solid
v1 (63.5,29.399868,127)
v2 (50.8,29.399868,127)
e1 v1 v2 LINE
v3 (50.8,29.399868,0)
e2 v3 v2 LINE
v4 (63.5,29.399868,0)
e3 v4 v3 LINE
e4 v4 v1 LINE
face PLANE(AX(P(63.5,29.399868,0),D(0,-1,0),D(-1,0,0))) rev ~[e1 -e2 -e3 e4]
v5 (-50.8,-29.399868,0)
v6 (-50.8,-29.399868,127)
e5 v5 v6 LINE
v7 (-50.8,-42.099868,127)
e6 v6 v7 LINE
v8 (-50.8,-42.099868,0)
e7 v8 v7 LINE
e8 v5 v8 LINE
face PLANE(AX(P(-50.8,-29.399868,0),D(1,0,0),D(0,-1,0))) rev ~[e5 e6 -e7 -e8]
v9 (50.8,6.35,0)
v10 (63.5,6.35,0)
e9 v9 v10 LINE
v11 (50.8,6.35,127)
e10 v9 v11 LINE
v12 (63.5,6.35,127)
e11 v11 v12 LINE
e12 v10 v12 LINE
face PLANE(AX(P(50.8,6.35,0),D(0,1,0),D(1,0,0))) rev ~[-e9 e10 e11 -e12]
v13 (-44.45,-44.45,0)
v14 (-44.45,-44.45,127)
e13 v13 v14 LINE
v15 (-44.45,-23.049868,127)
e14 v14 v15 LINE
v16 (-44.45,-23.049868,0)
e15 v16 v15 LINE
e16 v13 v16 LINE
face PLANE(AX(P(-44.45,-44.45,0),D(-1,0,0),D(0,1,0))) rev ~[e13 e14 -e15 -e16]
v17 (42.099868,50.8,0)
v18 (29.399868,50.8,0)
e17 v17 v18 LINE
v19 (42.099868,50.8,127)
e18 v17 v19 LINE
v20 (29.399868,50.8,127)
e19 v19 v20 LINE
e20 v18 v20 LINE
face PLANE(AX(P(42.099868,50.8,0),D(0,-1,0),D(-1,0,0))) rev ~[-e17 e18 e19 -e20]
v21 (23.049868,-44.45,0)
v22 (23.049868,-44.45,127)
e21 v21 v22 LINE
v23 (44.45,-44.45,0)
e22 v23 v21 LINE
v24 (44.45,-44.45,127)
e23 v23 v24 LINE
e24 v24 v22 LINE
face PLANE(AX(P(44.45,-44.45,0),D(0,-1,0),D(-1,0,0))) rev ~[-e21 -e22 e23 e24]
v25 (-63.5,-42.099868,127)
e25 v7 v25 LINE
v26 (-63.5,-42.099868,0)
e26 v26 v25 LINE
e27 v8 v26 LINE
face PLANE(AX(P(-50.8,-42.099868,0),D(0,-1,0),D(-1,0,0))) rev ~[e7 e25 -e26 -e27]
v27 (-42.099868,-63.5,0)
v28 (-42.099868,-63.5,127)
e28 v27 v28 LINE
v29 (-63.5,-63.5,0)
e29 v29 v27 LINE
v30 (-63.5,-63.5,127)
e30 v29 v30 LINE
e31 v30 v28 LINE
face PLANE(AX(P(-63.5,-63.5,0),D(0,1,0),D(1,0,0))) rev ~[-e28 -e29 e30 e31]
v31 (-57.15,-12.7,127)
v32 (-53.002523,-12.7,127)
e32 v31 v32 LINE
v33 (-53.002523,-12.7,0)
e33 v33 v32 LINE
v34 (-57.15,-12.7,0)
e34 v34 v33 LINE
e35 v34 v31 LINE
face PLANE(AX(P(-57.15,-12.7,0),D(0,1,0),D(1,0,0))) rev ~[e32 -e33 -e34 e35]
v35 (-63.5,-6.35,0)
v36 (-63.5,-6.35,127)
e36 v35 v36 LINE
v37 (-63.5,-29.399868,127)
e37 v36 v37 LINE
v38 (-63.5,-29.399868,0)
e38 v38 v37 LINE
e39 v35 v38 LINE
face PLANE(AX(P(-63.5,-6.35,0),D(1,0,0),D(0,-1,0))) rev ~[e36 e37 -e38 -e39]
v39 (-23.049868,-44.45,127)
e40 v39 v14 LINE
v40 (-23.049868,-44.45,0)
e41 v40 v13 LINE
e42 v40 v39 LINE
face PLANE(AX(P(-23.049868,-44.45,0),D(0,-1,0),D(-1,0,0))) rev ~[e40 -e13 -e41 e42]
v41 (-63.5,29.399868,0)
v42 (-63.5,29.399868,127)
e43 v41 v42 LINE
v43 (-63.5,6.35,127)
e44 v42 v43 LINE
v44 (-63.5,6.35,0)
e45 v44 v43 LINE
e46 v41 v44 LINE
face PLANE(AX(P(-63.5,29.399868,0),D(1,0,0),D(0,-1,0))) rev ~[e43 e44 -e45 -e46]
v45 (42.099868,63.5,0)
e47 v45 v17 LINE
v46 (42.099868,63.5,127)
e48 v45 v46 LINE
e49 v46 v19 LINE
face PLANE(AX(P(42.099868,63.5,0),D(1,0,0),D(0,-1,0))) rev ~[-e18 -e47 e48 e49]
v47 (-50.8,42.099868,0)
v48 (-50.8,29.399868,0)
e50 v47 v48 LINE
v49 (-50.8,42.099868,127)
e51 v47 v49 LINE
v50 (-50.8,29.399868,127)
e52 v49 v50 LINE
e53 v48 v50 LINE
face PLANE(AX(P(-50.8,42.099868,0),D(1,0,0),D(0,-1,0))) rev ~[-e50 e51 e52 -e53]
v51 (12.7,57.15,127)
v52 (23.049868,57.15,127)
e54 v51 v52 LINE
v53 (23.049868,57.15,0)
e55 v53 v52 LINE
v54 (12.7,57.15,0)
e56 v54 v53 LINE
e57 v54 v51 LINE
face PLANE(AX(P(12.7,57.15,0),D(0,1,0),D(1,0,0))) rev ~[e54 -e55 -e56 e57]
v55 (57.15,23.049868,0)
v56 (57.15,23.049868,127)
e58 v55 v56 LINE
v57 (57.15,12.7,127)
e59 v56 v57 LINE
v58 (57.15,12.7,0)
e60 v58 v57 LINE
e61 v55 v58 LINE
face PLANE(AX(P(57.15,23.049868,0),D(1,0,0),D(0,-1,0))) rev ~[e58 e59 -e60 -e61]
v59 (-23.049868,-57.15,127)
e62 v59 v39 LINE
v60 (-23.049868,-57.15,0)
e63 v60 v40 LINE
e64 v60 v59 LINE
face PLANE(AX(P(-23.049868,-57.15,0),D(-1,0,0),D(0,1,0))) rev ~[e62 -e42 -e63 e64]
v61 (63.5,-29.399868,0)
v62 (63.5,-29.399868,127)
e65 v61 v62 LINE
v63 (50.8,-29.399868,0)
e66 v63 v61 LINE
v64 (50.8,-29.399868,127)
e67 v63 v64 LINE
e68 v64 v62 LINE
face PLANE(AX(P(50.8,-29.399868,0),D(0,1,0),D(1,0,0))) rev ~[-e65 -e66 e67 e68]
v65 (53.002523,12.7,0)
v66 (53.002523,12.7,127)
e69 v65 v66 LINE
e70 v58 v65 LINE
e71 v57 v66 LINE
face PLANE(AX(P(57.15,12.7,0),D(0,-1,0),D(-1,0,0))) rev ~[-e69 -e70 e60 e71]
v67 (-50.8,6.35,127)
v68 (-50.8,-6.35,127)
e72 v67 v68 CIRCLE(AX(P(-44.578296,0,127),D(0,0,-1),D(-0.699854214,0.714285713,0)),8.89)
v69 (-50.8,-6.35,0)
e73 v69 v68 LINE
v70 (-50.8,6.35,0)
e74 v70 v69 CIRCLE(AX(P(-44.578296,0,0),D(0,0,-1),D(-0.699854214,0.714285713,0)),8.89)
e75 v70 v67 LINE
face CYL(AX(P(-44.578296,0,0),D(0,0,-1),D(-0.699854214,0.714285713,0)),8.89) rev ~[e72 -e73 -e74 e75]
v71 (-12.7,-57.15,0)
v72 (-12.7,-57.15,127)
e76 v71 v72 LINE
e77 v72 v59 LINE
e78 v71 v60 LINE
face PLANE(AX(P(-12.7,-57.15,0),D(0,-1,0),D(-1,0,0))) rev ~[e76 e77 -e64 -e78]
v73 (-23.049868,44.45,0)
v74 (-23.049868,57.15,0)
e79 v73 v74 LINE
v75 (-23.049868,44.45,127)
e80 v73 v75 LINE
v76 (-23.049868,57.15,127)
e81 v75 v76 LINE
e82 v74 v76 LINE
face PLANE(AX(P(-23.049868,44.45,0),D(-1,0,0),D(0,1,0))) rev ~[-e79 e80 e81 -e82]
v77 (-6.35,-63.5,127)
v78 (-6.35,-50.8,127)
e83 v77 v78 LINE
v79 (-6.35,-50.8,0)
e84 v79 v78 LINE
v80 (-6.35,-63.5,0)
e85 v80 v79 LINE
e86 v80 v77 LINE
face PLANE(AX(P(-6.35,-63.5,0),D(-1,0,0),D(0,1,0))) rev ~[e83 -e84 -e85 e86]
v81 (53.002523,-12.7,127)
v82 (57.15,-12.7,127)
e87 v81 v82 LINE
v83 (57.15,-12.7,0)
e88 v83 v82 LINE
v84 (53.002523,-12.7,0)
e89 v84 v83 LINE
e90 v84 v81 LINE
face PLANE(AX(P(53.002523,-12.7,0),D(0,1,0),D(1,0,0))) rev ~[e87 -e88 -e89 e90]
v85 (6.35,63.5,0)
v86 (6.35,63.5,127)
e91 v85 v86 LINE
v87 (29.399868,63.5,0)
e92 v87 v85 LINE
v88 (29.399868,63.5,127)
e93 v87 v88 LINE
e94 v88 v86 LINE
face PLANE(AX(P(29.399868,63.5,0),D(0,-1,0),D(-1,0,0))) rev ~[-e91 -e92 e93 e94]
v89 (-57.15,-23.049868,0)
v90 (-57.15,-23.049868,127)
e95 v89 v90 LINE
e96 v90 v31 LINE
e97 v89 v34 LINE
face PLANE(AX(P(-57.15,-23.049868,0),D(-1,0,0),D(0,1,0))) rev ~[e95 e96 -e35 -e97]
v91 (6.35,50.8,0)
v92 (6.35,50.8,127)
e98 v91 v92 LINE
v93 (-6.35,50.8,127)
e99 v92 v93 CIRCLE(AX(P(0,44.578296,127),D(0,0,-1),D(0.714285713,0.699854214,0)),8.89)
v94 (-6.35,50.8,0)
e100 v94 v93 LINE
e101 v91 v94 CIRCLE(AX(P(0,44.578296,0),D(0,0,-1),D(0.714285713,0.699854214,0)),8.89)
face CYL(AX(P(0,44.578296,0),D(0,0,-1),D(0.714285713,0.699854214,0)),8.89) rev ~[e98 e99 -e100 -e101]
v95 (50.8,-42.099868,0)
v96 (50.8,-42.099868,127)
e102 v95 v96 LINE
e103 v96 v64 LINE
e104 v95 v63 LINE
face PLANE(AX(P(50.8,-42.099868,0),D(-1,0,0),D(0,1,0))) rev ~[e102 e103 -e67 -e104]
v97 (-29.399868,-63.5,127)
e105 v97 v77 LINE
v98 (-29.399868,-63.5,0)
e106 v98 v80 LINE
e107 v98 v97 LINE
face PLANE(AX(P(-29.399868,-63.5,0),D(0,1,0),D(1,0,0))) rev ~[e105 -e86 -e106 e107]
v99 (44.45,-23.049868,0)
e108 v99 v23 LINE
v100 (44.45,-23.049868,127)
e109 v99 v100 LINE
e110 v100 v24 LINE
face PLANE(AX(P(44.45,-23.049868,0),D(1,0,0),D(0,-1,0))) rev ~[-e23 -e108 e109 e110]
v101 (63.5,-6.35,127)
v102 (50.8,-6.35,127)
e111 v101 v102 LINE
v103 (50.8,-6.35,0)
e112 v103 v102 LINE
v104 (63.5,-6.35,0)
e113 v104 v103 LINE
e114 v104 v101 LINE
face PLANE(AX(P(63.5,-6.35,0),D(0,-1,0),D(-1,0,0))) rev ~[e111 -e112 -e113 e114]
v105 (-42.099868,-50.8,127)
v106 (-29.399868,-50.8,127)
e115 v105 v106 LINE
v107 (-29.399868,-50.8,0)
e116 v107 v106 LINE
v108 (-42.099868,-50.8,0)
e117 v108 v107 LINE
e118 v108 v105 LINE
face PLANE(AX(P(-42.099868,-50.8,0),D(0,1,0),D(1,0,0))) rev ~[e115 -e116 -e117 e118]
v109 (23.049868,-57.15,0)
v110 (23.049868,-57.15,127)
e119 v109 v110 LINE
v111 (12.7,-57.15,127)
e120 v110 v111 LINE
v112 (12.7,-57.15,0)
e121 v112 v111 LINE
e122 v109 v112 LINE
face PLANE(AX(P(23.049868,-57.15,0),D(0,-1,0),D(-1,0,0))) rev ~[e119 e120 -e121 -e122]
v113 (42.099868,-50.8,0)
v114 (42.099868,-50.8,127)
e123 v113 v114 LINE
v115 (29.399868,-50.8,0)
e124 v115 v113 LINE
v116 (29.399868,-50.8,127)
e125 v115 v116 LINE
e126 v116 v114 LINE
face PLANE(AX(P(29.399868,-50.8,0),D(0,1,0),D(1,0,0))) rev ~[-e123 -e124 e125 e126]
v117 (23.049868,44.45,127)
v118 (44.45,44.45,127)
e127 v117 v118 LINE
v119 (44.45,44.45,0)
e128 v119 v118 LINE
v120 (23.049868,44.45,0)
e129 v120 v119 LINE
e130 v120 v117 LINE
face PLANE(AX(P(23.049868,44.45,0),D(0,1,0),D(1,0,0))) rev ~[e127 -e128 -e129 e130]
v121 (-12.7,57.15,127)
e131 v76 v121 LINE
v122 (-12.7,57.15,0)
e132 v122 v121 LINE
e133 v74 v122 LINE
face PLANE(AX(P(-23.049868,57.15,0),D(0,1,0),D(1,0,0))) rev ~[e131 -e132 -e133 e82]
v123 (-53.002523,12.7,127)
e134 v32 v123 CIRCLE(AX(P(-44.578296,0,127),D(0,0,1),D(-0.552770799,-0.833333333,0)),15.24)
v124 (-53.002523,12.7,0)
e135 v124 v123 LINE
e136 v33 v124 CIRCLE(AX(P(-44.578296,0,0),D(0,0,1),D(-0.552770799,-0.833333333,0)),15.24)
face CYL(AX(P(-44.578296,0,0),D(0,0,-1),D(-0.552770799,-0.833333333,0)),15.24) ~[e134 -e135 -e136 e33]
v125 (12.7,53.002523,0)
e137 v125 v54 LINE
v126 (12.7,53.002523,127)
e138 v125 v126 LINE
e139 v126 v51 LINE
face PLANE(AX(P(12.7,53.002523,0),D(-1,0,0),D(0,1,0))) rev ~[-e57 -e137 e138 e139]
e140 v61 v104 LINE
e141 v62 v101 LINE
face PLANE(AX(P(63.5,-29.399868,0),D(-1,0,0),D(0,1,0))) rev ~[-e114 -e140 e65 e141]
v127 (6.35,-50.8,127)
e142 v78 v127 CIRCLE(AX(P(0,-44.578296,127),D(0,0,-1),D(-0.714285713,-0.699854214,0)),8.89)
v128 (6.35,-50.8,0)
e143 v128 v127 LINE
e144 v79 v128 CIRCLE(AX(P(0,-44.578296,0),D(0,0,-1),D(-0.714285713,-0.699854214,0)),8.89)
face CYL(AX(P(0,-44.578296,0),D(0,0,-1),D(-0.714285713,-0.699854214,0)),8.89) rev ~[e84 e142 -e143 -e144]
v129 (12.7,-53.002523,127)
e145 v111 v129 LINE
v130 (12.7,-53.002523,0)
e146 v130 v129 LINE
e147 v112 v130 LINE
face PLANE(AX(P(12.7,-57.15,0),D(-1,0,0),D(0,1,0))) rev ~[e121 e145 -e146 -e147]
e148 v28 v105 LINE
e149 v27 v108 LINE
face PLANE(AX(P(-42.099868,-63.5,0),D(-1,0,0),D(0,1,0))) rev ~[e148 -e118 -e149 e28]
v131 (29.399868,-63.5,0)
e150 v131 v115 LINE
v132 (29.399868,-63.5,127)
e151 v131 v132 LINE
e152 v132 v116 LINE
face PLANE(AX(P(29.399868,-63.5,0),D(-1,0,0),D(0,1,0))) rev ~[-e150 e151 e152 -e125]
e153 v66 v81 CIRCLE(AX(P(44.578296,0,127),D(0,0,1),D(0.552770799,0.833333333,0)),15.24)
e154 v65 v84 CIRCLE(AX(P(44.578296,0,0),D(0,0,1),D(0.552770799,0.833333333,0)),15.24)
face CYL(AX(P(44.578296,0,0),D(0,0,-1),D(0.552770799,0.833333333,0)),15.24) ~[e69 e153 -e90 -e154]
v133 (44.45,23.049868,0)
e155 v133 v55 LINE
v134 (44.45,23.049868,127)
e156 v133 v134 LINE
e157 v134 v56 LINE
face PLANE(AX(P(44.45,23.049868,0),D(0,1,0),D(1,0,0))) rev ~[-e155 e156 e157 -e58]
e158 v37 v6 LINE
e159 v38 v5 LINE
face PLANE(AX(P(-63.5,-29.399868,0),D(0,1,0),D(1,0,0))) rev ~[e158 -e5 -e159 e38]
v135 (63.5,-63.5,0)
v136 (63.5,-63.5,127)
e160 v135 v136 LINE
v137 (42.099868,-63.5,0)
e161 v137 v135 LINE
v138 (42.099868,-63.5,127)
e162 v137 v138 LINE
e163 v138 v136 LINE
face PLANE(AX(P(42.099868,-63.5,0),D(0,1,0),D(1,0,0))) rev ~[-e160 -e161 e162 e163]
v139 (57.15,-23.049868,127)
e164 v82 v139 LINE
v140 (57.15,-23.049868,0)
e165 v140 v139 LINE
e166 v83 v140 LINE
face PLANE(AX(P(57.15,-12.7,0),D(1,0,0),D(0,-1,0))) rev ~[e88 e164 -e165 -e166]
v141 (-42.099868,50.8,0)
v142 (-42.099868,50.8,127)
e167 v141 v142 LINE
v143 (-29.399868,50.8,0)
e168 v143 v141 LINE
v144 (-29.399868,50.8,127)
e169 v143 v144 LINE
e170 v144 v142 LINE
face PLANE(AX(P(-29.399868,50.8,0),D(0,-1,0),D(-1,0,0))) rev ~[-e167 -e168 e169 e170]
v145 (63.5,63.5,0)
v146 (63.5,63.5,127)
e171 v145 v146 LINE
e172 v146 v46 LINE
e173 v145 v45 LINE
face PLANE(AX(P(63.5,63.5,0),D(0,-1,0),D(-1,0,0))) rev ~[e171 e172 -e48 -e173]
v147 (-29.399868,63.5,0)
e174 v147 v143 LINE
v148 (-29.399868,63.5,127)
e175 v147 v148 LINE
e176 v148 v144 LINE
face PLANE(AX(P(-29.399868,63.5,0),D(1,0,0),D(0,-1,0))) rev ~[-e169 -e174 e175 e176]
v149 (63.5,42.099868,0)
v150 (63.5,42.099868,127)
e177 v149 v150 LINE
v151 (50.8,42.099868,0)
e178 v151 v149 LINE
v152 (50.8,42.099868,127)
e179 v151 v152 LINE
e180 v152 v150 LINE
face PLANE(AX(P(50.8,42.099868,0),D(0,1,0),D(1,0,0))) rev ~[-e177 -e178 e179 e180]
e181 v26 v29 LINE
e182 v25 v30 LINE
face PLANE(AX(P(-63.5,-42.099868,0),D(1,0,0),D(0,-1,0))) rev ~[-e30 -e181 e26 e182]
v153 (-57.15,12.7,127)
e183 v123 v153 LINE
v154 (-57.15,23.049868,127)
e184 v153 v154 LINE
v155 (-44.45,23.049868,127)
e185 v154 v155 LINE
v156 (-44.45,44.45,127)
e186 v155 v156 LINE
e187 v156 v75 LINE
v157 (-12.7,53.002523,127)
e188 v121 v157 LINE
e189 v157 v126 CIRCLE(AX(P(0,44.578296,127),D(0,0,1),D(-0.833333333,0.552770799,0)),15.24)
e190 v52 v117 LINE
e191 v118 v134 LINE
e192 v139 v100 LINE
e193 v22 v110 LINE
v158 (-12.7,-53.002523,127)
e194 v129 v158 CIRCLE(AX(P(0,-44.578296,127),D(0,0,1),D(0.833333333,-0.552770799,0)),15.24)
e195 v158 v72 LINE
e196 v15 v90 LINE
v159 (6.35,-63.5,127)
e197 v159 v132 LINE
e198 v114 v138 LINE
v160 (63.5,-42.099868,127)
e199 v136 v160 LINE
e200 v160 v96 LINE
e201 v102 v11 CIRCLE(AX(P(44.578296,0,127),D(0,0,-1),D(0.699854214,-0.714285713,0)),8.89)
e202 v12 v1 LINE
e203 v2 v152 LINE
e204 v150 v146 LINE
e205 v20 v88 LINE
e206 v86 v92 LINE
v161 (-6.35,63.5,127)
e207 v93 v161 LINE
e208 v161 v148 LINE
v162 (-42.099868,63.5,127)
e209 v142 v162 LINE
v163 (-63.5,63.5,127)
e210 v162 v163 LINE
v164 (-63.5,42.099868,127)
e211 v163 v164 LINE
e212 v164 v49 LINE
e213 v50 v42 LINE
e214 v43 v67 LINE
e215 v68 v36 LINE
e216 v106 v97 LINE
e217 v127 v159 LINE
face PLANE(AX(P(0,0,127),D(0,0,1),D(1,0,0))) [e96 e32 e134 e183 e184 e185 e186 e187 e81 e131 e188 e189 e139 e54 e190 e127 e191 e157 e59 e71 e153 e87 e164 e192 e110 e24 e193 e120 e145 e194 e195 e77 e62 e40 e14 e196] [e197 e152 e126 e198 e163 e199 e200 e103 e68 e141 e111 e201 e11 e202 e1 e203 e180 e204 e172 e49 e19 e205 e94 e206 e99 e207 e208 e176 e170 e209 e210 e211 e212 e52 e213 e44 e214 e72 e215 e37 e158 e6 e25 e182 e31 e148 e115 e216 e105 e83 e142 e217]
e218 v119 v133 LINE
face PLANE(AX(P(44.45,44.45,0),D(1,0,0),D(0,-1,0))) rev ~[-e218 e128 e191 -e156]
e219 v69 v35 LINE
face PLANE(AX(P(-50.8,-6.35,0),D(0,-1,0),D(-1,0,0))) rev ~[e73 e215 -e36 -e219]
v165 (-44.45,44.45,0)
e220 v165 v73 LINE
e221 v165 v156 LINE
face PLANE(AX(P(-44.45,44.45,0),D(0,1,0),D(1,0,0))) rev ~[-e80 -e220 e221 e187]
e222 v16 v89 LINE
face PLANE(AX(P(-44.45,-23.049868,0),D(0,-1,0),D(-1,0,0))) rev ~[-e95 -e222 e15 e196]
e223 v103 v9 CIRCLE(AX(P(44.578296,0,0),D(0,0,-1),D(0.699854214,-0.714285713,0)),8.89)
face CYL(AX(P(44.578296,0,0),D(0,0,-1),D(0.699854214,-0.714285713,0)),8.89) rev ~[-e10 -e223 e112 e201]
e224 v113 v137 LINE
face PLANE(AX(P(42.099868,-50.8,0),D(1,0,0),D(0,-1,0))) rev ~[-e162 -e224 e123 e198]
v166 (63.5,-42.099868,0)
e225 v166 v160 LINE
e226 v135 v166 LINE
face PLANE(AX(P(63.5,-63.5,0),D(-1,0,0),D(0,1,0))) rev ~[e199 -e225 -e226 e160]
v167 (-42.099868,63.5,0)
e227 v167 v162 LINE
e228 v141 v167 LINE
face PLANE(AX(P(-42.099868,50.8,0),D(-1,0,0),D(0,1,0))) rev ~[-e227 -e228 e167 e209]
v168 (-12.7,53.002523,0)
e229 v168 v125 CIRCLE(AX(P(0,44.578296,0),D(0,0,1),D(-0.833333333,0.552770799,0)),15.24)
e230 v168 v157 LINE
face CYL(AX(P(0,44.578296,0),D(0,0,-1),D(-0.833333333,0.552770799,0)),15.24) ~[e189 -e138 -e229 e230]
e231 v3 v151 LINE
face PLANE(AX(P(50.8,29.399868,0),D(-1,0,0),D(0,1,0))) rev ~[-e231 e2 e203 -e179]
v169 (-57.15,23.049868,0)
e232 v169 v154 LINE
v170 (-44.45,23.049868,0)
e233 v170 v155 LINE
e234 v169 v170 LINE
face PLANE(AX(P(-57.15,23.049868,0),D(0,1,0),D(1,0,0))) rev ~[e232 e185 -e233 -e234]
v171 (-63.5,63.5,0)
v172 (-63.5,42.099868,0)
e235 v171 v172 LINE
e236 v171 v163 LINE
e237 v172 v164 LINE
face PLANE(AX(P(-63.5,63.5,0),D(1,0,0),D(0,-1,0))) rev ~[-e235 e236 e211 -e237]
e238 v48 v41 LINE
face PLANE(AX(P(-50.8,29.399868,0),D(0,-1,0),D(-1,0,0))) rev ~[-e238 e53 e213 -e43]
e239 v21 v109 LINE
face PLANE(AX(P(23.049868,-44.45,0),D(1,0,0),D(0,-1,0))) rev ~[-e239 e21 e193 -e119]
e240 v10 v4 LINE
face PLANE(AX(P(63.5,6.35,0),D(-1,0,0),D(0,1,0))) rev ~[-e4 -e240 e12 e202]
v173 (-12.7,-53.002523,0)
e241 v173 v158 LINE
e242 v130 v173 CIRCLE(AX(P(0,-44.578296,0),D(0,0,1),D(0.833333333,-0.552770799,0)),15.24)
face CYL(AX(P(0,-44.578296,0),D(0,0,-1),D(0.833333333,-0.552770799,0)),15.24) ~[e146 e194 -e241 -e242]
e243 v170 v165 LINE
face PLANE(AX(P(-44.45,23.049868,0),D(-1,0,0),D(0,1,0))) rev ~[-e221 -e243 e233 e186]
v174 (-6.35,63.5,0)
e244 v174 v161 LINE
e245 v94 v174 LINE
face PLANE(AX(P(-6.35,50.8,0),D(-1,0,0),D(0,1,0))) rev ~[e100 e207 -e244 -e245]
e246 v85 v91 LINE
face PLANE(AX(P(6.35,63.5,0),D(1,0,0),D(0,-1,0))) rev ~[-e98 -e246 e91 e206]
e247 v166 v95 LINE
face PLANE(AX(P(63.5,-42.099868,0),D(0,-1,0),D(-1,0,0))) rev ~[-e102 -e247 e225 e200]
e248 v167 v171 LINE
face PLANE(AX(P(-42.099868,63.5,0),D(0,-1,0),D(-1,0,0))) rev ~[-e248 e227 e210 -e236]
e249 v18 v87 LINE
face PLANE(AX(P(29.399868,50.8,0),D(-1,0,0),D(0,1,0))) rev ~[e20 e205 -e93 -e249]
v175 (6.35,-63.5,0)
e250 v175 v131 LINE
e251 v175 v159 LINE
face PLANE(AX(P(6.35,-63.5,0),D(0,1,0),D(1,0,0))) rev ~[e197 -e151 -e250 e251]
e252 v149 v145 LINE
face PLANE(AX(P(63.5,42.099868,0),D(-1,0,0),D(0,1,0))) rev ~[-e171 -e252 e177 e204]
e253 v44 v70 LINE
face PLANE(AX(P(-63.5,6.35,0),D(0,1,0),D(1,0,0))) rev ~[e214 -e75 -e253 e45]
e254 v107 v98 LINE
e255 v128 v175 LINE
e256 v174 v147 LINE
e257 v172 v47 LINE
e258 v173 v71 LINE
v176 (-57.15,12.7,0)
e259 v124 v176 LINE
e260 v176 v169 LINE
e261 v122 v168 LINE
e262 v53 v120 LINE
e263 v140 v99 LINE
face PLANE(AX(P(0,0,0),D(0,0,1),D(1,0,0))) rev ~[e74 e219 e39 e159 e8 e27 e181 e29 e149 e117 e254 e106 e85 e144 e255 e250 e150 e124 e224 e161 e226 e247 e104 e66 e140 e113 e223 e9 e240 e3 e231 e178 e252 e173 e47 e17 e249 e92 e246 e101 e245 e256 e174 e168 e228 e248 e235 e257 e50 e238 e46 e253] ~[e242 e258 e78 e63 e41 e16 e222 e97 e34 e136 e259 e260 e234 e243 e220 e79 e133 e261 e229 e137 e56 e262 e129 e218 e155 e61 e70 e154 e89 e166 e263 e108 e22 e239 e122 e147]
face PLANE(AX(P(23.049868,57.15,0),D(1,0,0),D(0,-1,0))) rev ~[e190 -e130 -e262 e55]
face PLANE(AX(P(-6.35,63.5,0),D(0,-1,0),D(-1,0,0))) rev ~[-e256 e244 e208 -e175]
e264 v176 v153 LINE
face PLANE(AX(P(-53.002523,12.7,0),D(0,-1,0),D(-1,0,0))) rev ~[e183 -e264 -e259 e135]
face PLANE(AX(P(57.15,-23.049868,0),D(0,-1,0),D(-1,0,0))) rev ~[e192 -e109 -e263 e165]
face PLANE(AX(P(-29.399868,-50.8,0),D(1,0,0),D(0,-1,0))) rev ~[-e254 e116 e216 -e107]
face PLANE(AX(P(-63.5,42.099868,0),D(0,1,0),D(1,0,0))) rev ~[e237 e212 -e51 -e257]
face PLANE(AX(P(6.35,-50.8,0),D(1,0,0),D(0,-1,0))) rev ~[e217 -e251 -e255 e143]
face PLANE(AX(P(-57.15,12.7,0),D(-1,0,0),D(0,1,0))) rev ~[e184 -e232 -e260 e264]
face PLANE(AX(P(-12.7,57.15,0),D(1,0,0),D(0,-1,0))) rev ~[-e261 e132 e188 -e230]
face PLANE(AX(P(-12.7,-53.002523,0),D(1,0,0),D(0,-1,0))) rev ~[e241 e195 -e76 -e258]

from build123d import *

# Parameters (mm, degrees)
F1_DEPTH = 127


with BuildPart() as f1:
    # F0 (on Top) → F1 (new body)
    with BuildSketch(Plane.XY):
        with BuildLine():
            Line((-42.099868, 63.5), (-63.5, 63.5))
            Line((-63.5, 63.5), (-63.5, 42.099868))
            Line((-63.5, 42.099868), (-50.8, 42.099868))
            Line((-50.8, 42.099868), (-50.8, 29.399868))
            Line((-50.8, 29.399868), (-63.5, 29.399868))
            Line((-63.5, 29.399868), (-63.5, 6.35))
            Line((-63.5, 6.35), (-50.8, 6.35))
            ThreePointArc((-50.8, 6.35), (-35.688296, 0), (-50.8, -6.35))
            Line((-50.8, -6.35), (-63.5, -6.35))
            Line((-63.5, -6.35), (-63.5, -29.399868))
            Line((-63.5, -29.399868), (-50.8, -29.399868))
            Line((-50.8, -29.399868), (-50.8, -42.099868))
            Line((-50.8, -42.099868), (-63.5, -42.099868))
            Line((-63.5, -42.099868), (-63.5, -63.5))
            Line((-63.5, -63.5), (-42.099868, -63.5))
            Line((-42.099868, -63.5), (-42.099868, -50.8))
            Line((-42.099868, -50.8), (-29.399868, -50.8))
            Line((-29.399868, -50.8), (-29.399868, -63.5))
            Line((-29.399868, -63.5), (-6.35, -63.5))
            Line((-6.35, -63.5), (-6.35, -50.8))
            ThreePointArc((-6.35, -50.8), (0, -35.688296), (6.35, -50.8))
            Line((6.35, -50.8), (6.35, -63.5))
            Line((6.35, -63.5), (29.399868, -63.5))
            Line((29.399868, -63.5), (29.399868, -50.8))
            Line((29.399868, -50.8), (42.099868, -50.8))
            Line((42.099868, -50.8), (42.099868, -63.5))
            Line((42.099868, -63.5), (63.5, -63.5))
            Line((63.5, -63.5), (63.5, -42.099868))
            Line((63.5, -42.099868), (50.8, -42.099868))
            Line((50.8, -42.099868), (50.8, -29.399868))
            Line((50.8, -29.399868), (63.5, -29.399868))
            Line((63.5, -29.399868), (63.5, -6.35))
            Line((63.5, -6.35), (50.8, -6.35))
            ThreePointArc((50.8, -6.35), (35.688296, 0), (50.8, 6.35))
            Line((50.8, 6.35), (63.5, 6.35))
            Line((63.5, 6.35), (63.5, 29.399868))
            Line((63.5, 29.399868), (50.8, 29.399868))
            Line((50.8, 29.399868), (50.8, 42.099868))
            Line((50.8, 42.099868), (63.5, 42.099868))
            Line((63.5, 42.099868), (63.5, 63.5))
            Line((63.5, 63.5), (42.099868, 63.5))
            Line((42.099868, 63.5), (42.099868, 50.8))
            Line((42.099868, 50.8), (29.399868, 50.8))
            Line((29.399868, 50.8), (29.399868, 63.5))
            Line((29.399868, 63.5), (6.35, 63.5))
            Line((6.35, 63.5), (6.35, 50.8))
            ThreePointArc((6.35, 50.8), (0, 35.688296), (-6.35, 50.8))
            Line((-6.35, 50.8), (-6.35, 63.5))
            Line((-6.35, 63.5), (-29.399868, 63.5))
            Line((-29.399868, 63.5), (-29.399868, 50.8))
            Line((-29.399868, 50.8), (-42.099868, 50.8))
            Line((-42.099868, 50.8), (-42.099868, 63.5))
        make_face()
        with BuildLine():
            Line((-57.15, 23.049868), (-44.45, 23.049868))
            Line((-44.45, 23.049868), (-44.45, 44.45))
            Line((-44.45, 44.45), (-23.049868, 44.45))
            Line((-23.049868, 44.45), (-23.049868, 57.15))
            Line((-23.049868, 57.15), (-12.7, 57.15))
            Line((-12.7, 57.15), (-12.7, 53.002523))
            ThreePointArc((-12.7, 53.002523), (0, 29.338296), (12.7, 53.002523))
            Line((12.7, 53.002523), (12.7, 57.15))
            Line((12.7, 57.15), (23.049868, 57.15))
            Line((23.049868, 57.15), (23.049868, 44.45))
            Line((23.049868, 44.45), (44.45, 44.45))
            Line((44.45, 44.45), (44.45, 23.049868))
            Line((44.45, 23.049868), (57.15, 23.049868))
            Line((57.15, 23.049868), (57.15, 12.7))
            Line((57.15, 12.7), (53.002523, 12.7))
            ThreePointArc((53.002523, 12.7), (29.338296, 0), (53.002523, -12.7))
            Line((53.002523, -12.7), (57.15, -12.7))
            Line((57.15, -12.7), (57.15, -23.049868))
            Line((57.15, -23.049868), (44.45, -23.049868))
            Line((44.45, -23.049868), (44.45, -44.45))
            Line((44.45, -44.45), (23.049868, -44.45))
            Line((23.049868, -44.45), (23.049868, -57.15))
            Line((23.049868, -57.15), (12.7, -57.15))
            Line((12.7, -57.15), (12.7, -53.002523))
            ThreePointArc((12.7, -53.002523), (0, -29.338296), (-12.7, -53.002523))
            Line((-12.7, -53.002523), (-12.7, -57.15))
            Line((-12.7, -57.15), (-23.049868, -57.15))
            Line((-23.049868, -57.15), (-23.049868, -44.45))
            Line((-23.049868, -44.45), (-44.45, -44.45))
            Line((-44.45, -44.45), (-44.45, -23.049868))
            Line((-44.45, -23.049868), (-57.15, -23.049868))
            Line((-57.15, -23.049868), (-57.15, -12.7))
            Line((-57.15, -12.7), (-53.002523, -12.7))
            ThreePointArc((-53.002523, -12.7), (-29.338296, 0), (-53.002523, 12.7))
            Line((-53.002523, 12.7), (-57.15, 12.7))
            Line((-57.15, 12.7), (-57.15, 23.049868))
        make_face(mode=Mode.SUBTRACT)
    extrude(amount=F1_DEPTH)


solid = f1.part
